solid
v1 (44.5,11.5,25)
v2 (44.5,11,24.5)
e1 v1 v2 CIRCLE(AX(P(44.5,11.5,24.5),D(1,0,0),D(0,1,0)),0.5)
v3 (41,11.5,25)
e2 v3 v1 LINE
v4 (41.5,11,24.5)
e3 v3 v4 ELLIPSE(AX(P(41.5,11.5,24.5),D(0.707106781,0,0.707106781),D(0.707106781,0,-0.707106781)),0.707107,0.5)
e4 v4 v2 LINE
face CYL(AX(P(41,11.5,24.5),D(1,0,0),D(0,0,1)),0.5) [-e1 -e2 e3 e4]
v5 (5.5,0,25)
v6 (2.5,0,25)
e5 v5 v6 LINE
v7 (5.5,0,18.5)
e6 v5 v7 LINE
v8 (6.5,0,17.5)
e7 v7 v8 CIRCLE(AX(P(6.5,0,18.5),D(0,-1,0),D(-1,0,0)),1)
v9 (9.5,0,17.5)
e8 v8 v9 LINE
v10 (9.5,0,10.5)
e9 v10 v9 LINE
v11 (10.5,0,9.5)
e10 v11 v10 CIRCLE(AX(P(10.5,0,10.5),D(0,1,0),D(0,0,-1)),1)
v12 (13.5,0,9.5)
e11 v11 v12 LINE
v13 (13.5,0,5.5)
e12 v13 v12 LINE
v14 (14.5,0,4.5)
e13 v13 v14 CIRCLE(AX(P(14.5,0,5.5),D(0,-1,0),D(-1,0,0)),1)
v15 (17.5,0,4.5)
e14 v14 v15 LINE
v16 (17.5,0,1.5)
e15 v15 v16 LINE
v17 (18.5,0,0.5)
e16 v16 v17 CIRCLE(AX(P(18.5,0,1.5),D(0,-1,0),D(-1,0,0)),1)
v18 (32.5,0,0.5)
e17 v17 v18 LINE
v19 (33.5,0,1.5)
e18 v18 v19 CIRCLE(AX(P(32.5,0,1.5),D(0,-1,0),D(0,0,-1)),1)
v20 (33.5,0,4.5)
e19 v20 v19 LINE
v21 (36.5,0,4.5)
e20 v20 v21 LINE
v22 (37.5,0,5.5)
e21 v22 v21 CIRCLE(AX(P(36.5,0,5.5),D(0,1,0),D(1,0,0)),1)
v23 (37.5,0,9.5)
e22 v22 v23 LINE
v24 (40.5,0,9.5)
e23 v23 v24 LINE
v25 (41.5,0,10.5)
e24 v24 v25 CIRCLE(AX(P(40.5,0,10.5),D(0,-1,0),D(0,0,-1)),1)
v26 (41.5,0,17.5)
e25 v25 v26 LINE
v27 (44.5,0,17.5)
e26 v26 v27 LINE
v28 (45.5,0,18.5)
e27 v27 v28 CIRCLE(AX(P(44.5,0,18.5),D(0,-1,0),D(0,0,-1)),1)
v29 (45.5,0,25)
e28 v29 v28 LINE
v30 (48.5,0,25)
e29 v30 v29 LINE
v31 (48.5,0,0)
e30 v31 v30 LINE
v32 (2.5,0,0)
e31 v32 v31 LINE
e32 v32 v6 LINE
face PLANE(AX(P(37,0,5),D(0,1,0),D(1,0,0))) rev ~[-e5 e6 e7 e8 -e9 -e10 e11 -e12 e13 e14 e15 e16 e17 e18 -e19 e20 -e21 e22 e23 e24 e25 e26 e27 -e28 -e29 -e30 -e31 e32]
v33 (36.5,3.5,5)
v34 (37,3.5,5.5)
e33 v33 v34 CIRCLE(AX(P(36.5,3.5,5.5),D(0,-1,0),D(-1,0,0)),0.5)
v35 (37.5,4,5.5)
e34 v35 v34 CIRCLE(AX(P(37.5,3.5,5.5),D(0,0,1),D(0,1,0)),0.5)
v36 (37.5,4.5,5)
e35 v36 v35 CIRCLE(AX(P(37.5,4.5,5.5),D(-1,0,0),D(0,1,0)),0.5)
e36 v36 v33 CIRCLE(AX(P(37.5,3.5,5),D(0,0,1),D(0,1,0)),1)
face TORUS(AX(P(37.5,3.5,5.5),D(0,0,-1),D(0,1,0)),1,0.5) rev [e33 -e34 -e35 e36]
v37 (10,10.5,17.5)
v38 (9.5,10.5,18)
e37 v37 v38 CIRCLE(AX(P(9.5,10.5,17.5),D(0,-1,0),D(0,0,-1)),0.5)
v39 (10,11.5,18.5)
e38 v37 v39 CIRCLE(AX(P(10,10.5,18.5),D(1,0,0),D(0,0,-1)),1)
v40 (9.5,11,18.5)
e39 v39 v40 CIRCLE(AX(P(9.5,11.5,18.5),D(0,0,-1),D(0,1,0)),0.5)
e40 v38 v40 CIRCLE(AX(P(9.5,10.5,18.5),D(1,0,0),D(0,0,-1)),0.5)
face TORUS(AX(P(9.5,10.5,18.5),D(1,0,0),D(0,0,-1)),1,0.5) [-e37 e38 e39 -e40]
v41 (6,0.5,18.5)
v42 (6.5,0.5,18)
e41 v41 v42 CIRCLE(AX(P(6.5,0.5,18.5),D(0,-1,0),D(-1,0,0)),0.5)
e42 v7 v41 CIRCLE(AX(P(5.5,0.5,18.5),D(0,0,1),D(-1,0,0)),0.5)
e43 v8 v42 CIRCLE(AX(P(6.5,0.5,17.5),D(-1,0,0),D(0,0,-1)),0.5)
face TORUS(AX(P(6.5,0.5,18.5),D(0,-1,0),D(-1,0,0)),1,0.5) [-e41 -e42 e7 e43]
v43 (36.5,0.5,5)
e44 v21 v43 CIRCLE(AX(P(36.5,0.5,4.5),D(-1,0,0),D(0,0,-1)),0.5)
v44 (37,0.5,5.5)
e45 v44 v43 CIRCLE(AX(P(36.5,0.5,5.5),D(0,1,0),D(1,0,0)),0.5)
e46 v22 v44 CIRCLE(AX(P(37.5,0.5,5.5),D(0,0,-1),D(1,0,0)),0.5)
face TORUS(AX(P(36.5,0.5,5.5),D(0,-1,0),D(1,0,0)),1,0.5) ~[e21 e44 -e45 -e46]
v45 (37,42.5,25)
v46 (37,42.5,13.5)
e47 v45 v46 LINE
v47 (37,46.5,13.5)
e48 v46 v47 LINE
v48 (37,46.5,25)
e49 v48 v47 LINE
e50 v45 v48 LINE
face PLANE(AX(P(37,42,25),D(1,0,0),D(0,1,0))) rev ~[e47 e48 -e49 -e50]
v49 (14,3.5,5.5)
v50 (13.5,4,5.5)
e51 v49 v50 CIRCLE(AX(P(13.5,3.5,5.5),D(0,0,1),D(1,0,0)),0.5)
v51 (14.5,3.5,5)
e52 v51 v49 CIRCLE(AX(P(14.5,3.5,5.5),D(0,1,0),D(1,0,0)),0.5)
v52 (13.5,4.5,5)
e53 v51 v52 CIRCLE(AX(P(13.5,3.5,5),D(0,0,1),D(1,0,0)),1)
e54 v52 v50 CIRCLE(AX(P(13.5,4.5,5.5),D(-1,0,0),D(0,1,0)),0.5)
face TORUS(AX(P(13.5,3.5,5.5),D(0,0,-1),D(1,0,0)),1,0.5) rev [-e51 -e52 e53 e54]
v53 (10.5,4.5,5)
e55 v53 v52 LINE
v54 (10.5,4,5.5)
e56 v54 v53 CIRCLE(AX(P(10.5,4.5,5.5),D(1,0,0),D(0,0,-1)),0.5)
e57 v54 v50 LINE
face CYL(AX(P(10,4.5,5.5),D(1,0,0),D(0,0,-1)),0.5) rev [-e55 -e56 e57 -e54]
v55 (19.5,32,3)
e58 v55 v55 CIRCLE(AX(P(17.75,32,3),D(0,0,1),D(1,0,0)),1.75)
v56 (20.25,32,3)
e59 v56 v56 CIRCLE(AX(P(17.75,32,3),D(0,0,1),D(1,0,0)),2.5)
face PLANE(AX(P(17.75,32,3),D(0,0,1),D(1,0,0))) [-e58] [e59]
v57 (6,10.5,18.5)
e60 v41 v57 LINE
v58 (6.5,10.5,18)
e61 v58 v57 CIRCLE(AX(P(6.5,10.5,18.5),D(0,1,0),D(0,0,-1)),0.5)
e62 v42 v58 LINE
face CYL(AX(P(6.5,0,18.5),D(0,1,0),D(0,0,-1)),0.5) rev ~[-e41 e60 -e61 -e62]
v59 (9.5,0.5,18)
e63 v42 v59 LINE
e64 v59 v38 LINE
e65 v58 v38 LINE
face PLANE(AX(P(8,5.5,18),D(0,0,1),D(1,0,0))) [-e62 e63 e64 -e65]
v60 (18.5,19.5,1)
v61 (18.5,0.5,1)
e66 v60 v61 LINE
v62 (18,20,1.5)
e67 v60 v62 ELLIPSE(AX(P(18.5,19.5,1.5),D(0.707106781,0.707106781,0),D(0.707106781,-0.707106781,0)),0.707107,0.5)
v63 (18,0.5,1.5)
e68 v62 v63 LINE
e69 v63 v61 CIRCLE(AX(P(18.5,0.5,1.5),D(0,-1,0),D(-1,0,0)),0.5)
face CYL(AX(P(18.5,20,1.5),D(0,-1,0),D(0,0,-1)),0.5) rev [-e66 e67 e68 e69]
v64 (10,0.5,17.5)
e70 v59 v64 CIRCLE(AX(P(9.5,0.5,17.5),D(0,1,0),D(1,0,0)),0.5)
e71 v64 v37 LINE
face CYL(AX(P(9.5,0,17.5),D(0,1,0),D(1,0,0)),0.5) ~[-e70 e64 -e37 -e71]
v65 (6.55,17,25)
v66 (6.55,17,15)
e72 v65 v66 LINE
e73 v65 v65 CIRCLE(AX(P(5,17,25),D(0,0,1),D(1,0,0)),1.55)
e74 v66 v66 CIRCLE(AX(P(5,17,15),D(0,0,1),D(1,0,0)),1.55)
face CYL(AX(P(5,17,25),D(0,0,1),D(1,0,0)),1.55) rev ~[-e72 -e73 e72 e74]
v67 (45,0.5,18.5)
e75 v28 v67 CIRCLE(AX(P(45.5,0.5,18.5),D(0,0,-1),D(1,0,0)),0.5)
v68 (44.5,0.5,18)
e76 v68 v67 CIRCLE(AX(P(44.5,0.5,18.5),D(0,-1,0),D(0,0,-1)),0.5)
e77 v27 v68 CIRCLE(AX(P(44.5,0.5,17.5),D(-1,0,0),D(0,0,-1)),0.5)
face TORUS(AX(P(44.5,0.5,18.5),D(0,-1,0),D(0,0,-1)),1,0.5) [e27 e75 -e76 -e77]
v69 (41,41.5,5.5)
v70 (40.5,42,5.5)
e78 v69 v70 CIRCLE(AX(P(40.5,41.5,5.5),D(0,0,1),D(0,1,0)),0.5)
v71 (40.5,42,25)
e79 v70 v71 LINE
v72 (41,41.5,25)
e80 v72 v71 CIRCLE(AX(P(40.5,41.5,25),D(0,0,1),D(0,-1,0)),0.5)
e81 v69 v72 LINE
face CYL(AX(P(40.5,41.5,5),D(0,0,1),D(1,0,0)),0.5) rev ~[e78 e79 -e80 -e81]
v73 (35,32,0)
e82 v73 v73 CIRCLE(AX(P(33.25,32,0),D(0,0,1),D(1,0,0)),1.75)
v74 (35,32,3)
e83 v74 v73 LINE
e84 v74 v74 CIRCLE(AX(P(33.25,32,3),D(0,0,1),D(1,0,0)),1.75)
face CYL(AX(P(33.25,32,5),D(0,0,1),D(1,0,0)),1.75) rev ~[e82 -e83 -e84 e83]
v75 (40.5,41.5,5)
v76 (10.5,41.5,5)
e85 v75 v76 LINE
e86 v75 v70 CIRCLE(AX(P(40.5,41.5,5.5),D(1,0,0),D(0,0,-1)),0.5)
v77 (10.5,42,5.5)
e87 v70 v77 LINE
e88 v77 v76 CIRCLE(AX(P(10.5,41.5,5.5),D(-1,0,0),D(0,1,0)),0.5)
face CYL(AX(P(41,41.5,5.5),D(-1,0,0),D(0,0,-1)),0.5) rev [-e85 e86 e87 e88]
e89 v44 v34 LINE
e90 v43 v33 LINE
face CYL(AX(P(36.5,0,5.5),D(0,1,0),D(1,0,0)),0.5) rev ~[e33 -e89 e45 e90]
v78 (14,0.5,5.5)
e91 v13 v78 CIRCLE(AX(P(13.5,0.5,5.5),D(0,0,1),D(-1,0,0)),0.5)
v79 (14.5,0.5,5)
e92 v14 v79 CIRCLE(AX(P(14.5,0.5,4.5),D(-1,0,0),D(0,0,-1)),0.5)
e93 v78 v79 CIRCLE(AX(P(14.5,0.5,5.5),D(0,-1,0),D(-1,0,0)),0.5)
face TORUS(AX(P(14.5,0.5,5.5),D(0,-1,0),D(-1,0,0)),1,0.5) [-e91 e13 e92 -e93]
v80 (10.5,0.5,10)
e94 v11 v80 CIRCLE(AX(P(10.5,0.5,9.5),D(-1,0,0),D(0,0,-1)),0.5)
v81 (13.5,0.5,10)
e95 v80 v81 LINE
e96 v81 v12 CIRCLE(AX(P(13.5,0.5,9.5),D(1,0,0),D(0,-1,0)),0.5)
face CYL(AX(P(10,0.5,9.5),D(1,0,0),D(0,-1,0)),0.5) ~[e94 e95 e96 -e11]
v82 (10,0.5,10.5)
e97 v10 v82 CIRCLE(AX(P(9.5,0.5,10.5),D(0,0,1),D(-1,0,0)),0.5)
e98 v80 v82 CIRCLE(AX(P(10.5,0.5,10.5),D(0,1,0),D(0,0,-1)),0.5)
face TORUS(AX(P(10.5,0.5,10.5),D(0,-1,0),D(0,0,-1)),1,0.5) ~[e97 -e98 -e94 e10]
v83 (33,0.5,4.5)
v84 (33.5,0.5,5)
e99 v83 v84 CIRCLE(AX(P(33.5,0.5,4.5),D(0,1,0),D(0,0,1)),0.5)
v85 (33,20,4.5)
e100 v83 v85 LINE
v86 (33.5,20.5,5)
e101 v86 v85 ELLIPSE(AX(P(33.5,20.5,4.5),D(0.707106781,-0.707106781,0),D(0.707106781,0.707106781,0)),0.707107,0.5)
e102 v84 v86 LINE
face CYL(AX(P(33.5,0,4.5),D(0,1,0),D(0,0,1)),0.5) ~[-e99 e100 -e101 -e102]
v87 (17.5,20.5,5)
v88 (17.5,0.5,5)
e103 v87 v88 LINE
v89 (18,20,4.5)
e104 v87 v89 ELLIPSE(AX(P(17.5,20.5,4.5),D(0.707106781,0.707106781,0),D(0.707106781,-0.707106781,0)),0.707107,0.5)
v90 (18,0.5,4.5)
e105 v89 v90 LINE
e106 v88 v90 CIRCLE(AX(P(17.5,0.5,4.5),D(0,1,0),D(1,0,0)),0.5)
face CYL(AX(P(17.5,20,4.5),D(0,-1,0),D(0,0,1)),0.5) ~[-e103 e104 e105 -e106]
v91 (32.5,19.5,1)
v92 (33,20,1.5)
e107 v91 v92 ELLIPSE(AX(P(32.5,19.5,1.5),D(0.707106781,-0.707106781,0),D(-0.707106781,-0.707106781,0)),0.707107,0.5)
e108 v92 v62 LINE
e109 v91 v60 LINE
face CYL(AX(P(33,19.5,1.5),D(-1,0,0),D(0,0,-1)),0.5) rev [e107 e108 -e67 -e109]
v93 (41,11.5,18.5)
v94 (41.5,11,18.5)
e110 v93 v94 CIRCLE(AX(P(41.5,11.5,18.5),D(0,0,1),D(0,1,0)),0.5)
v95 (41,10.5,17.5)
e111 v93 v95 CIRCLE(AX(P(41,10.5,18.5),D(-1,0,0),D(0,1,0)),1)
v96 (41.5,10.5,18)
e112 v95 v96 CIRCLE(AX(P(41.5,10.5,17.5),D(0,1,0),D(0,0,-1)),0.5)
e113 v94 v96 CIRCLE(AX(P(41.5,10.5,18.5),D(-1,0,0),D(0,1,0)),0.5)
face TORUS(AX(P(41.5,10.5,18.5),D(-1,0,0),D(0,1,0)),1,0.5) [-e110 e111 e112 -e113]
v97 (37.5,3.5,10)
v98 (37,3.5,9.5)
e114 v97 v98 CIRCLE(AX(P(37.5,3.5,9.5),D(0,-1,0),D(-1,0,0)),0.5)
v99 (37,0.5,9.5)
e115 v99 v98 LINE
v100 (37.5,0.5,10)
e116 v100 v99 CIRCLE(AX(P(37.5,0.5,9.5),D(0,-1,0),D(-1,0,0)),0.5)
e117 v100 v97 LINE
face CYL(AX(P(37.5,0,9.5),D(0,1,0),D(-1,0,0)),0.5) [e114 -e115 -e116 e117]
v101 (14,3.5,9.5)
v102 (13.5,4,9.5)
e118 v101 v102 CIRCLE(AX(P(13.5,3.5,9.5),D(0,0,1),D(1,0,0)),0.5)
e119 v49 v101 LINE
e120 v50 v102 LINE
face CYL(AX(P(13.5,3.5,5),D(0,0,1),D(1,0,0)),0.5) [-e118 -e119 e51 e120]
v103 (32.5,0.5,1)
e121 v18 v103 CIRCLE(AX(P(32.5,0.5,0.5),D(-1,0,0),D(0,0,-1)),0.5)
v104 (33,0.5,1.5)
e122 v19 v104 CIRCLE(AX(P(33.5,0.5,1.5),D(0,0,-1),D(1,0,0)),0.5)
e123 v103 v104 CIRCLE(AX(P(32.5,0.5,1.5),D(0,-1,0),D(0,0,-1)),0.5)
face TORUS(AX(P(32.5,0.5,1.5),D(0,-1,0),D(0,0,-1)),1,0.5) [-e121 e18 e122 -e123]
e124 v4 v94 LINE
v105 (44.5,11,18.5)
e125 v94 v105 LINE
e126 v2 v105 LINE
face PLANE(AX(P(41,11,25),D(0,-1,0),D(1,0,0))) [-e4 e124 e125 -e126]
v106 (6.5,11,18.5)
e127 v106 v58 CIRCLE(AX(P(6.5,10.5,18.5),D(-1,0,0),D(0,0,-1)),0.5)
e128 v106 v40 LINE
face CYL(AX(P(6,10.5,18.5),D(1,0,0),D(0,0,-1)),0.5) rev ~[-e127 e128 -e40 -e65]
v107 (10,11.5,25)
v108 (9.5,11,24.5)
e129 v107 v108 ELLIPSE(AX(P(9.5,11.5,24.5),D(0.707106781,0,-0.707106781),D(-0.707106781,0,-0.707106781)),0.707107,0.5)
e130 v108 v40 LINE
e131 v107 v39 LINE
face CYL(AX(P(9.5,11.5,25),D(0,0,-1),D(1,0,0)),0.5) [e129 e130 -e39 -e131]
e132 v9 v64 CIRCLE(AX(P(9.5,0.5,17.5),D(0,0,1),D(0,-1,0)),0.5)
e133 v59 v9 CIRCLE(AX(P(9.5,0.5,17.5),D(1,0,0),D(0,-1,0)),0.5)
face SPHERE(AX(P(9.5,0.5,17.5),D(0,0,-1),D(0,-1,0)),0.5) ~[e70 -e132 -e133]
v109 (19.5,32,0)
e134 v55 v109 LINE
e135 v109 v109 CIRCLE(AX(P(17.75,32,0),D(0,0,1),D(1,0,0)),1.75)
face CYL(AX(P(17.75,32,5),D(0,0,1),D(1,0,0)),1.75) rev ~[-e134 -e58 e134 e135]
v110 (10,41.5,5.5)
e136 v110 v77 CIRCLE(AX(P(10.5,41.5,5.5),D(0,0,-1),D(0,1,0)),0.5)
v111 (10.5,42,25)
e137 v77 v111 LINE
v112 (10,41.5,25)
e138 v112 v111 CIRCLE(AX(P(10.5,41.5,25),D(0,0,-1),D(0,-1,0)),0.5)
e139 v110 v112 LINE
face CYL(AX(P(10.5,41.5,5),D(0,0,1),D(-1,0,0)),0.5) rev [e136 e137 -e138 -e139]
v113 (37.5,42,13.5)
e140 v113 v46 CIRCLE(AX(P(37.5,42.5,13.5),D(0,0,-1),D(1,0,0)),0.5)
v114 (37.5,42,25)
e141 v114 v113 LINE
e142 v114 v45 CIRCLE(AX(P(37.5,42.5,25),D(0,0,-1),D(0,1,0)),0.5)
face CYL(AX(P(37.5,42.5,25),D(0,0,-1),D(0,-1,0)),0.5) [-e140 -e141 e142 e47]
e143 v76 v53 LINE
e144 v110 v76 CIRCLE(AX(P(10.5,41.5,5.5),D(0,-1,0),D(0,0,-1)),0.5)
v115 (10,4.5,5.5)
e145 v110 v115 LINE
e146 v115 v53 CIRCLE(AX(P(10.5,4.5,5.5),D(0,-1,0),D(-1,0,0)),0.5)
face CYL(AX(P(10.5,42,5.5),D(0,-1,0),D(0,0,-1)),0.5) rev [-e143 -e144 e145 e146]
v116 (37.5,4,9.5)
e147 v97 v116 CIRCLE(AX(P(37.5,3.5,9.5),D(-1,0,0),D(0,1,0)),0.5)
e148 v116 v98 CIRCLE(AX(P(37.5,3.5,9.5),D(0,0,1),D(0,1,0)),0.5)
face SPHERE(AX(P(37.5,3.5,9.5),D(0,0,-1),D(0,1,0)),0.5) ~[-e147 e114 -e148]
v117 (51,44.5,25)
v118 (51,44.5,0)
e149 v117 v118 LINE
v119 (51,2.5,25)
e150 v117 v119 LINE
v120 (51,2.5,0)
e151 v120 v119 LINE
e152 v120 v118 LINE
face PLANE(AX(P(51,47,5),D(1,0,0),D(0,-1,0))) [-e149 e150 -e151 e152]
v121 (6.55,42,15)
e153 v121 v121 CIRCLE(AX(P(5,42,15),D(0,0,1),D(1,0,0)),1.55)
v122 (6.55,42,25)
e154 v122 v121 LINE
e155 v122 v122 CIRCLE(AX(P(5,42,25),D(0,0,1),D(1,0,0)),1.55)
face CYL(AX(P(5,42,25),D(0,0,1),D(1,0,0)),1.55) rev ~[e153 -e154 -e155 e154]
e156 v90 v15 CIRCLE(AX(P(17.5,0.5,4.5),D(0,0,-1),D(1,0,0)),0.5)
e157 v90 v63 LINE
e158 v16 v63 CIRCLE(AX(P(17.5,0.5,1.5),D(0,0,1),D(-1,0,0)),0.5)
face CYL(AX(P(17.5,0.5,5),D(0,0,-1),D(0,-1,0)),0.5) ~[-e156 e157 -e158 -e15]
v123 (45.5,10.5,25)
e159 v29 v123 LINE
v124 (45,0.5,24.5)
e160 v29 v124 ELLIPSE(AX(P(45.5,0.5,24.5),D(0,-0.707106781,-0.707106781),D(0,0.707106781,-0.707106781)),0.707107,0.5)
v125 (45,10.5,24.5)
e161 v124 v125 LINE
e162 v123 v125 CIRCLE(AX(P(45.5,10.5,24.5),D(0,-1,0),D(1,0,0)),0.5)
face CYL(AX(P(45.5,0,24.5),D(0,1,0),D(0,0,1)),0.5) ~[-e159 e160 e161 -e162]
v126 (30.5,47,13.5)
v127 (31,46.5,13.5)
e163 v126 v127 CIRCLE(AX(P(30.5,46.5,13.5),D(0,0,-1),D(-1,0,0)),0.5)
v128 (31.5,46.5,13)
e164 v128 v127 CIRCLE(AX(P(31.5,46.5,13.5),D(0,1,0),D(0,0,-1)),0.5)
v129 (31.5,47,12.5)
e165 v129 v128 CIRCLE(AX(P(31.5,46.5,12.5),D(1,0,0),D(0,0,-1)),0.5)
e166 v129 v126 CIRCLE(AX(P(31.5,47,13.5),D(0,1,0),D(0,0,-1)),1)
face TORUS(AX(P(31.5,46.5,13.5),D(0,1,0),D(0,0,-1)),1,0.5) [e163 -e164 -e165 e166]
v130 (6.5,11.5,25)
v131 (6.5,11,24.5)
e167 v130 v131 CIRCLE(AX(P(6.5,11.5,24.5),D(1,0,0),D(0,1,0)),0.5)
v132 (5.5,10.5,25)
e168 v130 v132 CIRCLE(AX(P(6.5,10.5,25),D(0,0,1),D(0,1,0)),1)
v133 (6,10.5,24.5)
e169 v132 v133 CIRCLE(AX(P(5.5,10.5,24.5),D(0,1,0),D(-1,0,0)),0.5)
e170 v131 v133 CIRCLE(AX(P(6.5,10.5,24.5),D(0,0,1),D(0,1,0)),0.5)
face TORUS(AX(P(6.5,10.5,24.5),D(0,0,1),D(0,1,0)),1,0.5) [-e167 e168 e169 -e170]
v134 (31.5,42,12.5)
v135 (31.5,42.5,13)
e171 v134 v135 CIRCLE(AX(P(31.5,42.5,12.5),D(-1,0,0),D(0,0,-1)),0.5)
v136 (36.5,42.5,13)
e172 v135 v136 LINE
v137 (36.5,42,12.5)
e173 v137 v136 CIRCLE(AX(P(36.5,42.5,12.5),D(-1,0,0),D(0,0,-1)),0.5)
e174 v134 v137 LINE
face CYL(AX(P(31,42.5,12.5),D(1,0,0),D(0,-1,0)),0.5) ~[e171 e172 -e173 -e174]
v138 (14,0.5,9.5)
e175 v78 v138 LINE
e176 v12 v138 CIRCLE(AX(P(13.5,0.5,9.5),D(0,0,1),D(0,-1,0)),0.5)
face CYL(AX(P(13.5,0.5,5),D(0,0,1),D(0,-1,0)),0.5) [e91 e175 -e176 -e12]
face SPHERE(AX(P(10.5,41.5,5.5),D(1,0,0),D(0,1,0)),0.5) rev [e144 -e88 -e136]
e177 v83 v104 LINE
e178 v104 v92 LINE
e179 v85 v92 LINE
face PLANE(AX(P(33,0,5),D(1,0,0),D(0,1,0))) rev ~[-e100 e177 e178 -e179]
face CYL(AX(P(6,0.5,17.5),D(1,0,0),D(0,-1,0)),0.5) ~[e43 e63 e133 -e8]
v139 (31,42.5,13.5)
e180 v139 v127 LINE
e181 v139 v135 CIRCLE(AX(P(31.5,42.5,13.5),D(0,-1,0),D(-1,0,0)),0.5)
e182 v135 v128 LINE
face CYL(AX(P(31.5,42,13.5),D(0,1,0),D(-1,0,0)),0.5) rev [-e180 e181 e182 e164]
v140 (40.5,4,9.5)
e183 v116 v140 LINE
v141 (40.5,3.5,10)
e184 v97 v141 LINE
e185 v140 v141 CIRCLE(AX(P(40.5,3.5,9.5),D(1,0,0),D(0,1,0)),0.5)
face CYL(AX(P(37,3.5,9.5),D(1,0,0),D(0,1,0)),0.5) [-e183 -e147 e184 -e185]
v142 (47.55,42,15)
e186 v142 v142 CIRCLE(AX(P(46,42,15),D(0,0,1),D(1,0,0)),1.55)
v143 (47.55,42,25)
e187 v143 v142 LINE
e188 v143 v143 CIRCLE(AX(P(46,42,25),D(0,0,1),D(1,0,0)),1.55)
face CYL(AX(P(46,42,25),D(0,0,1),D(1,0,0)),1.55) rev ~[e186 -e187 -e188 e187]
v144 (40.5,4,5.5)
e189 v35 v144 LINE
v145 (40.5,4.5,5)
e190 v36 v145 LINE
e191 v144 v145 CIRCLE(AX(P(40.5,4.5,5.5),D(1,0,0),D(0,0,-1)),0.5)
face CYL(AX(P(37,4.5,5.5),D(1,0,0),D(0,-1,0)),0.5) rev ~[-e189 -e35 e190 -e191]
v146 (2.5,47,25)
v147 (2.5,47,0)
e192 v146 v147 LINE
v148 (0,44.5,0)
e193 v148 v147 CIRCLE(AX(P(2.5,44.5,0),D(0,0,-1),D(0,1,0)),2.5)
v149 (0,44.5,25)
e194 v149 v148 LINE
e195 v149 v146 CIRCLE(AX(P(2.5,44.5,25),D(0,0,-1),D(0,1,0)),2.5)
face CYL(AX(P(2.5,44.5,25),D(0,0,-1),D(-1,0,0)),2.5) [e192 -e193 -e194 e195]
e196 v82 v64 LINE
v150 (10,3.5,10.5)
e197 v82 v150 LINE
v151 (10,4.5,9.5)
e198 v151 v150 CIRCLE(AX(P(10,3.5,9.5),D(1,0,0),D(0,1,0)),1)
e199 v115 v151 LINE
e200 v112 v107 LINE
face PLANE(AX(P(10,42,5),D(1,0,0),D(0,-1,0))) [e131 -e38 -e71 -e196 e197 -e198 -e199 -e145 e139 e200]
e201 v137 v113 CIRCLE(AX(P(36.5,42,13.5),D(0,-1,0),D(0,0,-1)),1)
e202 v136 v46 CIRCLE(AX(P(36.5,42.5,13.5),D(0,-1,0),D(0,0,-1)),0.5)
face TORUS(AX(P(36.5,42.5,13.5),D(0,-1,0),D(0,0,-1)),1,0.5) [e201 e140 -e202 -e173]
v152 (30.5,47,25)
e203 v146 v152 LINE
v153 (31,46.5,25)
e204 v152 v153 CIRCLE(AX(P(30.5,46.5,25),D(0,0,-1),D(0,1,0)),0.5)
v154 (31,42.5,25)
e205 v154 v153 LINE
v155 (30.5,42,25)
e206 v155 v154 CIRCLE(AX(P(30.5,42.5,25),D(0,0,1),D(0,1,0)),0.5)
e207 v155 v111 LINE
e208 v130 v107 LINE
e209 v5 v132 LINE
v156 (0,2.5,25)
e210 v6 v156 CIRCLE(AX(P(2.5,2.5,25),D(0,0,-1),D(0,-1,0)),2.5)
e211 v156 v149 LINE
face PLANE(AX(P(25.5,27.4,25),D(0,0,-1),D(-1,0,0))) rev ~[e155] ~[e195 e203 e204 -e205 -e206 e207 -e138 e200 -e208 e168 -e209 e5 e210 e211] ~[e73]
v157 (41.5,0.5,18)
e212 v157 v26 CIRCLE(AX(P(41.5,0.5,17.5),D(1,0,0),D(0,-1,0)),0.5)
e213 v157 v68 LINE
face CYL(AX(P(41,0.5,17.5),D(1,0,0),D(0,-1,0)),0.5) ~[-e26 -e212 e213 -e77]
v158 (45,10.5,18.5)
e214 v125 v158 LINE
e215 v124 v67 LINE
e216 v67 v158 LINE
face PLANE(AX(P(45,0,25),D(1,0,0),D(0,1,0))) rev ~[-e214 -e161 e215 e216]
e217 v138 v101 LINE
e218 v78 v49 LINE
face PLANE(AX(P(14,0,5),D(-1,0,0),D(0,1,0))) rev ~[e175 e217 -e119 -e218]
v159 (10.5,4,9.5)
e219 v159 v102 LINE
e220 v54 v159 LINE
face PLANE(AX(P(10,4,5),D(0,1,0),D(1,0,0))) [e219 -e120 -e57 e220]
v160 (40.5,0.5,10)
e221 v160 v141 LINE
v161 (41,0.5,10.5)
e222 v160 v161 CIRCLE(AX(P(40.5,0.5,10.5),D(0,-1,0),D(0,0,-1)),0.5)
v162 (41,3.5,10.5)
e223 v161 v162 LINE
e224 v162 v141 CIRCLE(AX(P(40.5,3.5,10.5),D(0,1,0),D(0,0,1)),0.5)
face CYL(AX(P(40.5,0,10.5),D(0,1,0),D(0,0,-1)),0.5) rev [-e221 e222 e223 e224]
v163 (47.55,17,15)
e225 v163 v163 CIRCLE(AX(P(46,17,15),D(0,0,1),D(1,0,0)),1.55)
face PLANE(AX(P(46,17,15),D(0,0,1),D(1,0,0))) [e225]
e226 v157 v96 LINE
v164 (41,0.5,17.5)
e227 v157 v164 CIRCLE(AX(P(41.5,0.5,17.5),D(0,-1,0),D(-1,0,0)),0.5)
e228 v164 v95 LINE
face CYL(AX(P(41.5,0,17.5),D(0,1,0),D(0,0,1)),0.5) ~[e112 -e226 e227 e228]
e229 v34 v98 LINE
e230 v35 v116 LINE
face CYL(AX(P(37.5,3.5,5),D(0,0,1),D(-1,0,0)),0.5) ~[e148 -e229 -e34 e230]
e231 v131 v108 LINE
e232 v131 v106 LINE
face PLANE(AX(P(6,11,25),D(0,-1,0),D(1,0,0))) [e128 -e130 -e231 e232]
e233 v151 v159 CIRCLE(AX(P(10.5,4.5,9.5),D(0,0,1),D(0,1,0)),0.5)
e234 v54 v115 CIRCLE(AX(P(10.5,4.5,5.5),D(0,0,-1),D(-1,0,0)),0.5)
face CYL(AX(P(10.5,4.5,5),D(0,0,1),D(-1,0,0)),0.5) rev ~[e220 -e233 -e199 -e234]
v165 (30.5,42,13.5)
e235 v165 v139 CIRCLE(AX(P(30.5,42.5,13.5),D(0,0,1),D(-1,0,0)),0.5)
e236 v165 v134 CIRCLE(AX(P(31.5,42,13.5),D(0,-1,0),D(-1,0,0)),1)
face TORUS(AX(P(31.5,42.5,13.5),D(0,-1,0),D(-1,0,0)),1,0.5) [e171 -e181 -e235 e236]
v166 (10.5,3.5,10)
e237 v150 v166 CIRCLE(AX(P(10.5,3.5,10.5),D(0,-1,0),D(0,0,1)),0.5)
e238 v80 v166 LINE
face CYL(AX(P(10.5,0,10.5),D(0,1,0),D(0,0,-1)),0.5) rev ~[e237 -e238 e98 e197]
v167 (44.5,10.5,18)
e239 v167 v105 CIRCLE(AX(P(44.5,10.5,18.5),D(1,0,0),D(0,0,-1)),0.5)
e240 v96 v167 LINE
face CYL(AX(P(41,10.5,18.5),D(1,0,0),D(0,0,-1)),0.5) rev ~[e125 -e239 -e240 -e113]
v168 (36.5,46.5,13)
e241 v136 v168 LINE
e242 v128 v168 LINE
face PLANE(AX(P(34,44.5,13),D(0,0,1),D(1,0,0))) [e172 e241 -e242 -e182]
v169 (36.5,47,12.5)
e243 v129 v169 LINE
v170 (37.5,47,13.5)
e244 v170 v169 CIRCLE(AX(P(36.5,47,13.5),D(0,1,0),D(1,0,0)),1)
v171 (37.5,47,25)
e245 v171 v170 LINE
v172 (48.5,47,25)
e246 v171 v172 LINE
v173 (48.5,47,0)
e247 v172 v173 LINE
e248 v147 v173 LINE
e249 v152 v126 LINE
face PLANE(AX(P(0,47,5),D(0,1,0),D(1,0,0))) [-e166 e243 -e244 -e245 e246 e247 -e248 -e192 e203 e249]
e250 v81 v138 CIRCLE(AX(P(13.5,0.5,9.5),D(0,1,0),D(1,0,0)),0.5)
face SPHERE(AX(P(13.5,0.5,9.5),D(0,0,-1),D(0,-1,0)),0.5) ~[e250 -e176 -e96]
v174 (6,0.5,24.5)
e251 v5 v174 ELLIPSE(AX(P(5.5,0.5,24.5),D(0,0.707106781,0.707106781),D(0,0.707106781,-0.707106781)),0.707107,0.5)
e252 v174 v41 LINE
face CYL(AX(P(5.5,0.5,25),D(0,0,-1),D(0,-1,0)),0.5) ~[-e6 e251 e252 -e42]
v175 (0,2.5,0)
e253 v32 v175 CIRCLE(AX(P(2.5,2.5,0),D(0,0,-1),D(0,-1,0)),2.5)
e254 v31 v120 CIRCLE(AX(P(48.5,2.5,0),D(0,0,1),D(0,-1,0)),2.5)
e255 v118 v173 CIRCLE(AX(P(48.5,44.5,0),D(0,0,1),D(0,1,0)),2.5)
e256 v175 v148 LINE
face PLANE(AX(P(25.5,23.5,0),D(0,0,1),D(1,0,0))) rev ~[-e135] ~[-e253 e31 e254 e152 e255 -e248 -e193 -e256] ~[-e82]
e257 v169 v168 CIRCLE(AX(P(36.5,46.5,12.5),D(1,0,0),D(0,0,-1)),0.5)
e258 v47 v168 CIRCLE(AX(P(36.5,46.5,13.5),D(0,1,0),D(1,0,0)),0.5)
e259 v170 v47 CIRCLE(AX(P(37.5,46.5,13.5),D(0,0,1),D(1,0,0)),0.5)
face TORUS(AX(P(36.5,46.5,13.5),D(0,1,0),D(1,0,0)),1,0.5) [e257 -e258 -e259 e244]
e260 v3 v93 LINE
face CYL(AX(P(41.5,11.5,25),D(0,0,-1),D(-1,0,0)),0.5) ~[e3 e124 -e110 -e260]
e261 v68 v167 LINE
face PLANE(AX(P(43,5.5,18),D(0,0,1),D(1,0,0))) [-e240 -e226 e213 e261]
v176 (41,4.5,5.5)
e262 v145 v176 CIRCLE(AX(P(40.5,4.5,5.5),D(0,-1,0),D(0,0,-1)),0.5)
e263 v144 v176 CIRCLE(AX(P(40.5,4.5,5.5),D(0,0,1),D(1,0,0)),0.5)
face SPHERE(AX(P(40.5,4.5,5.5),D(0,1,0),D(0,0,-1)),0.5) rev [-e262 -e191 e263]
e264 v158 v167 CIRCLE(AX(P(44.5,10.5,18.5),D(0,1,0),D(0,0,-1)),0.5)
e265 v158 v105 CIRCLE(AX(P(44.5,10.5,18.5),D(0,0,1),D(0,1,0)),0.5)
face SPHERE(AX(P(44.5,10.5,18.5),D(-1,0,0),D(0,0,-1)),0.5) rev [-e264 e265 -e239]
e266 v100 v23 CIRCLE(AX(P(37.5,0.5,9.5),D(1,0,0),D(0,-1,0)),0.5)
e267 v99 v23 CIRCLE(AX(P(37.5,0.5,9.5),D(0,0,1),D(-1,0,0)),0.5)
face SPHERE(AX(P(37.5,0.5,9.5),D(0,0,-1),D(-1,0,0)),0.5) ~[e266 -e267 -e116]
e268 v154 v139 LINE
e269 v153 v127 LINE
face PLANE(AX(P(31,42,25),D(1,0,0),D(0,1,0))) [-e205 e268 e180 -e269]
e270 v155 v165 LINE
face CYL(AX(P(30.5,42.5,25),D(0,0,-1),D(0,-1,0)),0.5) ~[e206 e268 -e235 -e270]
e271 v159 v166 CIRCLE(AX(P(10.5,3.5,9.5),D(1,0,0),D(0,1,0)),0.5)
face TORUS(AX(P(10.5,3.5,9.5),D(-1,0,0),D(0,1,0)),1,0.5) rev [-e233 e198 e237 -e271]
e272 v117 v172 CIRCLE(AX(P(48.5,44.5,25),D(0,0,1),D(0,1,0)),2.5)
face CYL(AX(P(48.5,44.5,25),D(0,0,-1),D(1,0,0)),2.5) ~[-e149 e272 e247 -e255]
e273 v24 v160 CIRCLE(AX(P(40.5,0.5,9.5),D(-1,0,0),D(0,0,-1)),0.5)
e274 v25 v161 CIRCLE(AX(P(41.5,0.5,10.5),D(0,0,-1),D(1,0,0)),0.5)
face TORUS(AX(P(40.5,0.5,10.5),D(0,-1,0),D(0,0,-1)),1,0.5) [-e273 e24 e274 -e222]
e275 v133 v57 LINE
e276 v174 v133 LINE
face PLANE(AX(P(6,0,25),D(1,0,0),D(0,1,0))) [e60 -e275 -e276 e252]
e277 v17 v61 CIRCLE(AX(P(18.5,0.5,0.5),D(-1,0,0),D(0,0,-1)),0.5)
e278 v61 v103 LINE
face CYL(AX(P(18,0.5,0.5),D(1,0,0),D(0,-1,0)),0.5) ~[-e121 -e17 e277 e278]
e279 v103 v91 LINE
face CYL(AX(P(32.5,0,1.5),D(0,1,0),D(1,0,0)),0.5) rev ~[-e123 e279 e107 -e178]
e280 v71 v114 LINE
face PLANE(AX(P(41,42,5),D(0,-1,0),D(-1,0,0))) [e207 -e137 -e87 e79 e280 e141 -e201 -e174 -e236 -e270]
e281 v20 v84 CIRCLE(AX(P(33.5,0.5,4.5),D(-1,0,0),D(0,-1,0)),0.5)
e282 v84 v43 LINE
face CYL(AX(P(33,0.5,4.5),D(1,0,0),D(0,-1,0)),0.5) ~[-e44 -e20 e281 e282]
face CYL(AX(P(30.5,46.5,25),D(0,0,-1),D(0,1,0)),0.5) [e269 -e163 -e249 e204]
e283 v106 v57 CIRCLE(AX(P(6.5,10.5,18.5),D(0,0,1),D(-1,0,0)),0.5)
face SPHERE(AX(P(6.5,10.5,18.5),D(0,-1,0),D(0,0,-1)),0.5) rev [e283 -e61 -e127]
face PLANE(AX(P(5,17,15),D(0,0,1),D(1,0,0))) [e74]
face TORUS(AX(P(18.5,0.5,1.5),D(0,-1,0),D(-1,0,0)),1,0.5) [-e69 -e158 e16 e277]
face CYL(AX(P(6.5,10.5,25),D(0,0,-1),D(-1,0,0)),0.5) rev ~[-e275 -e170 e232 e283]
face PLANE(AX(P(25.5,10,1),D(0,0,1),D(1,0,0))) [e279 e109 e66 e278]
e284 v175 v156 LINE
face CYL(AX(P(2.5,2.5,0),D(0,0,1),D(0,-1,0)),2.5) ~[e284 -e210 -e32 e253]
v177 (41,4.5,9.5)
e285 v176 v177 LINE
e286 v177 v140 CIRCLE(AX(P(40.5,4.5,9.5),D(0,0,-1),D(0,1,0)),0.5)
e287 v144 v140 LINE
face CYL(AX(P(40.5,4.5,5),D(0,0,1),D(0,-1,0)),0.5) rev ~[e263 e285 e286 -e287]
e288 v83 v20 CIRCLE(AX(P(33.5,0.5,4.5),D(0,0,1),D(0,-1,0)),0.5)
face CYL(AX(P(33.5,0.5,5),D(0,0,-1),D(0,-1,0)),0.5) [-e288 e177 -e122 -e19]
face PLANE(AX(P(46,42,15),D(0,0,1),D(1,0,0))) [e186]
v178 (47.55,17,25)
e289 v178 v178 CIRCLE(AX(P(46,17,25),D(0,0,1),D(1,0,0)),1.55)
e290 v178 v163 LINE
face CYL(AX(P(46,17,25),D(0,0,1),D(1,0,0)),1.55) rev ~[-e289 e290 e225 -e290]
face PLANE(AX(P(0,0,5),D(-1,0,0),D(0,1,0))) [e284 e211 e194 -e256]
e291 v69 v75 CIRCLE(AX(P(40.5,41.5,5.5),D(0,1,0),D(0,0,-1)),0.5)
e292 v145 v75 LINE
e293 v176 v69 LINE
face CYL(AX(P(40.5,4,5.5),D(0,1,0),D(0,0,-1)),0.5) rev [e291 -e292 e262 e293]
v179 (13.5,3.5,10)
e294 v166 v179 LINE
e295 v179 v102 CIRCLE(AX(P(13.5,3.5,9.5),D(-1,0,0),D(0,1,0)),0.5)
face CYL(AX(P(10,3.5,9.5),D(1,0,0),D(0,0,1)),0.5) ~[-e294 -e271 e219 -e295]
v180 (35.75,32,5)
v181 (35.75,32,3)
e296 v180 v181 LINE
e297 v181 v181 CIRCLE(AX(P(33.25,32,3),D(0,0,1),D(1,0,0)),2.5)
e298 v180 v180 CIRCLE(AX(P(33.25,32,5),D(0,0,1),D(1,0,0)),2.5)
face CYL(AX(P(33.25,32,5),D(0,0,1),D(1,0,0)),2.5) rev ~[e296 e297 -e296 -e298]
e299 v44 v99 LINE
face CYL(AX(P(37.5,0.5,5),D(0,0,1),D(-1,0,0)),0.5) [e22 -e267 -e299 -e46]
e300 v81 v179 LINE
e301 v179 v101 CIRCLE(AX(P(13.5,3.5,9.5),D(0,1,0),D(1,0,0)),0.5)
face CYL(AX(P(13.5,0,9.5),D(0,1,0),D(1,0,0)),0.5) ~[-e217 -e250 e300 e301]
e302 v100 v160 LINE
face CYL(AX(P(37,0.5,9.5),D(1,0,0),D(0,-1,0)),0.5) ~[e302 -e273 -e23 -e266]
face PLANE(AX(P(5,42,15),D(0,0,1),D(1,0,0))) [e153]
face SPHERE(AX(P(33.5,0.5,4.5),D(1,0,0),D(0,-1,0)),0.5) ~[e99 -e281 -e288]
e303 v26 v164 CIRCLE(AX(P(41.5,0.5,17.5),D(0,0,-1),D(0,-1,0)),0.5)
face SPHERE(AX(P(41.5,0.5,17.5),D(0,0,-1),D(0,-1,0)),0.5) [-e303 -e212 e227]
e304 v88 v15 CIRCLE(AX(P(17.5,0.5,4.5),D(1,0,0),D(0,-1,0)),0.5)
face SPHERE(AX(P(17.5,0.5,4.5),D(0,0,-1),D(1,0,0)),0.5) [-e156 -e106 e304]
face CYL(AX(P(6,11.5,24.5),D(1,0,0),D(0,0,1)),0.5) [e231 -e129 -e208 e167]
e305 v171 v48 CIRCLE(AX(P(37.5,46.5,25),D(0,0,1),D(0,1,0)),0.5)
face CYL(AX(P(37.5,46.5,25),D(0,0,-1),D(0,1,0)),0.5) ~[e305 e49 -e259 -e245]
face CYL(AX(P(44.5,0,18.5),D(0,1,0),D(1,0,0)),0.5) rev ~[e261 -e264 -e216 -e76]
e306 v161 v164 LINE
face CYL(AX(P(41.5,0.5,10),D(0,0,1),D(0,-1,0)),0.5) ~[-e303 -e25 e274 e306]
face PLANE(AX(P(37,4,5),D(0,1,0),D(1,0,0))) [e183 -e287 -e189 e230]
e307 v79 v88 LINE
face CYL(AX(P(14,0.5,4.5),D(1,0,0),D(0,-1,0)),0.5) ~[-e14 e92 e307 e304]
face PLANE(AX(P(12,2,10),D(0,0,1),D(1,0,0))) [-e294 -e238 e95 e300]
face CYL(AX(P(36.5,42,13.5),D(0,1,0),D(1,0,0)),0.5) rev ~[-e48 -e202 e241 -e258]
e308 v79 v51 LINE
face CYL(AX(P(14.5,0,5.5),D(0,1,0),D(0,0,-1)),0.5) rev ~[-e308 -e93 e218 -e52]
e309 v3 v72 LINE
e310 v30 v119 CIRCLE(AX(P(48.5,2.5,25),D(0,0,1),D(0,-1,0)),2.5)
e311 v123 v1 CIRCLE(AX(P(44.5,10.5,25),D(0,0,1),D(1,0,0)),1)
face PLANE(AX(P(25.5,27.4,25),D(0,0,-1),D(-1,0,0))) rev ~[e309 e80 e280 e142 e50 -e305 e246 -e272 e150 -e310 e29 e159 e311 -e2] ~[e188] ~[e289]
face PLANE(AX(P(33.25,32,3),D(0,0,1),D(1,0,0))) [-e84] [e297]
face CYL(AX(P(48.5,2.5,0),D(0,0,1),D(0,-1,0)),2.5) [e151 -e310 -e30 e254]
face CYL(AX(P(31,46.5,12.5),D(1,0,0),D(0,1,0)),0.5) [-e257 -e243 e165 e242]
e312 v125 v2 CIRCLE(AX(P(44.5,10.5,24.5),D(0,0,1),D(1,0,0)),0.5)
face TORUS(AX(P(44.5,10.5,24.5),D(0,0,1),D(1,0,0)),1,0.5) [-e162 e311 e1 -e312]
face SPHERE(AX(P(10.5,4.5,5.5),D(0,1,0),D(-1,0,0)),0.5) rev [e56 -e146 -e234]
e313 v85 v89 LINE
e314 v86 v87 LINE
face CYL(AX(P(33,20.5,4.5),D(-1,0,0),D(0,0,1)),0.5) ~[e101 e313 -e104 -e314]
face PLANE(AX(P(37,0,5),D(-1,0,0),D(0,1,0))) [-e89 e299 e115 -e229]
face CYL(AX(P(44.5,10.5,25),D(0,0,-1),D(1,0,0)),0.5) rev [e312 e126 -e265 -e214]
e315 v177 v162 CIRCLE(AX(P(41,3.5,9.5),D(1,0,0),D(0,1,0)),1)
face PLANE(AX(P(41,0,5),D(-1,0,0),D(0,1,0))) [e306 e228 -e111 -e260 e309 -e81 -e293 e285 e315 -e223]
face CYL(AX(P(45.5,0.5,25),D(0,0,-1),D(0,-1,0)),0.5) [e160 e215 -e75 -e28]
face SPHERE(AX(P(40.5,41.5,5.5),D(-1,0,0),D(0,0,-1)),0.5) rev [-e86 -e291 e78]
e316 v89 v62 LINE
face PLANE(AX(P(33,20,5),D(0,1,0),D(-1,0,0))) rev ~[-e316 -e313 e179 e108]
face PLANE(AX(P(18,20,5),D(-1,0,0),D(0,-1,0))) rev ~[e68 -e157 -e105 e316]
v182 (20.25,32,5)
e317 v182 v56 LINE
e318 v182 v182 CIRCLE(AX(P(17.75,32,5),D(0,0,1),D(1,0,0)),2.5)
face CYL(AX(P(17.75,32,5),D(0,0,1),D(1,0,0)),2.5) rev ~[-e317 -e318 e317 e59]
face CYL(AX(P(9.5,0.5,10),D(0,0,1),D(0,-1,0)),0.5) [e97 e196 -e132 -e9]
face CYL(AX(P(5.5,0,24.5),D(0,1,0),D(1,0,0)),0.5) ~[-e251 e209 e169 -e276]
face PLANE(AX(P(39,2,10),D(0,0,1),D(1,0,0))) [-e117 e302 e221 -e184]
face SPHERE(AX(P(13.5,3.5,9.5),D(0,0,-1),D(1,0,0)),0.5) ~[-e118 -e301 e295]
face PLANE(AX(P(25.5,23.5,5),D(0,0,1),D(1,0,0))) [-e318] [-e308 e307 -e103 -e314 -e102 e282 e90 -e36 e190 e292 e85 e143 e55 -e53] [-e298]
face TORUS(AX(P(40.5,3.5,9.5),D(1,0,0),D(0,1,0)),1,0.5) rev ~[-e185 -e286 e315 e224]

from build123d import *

# Parameters (mm, degrees)
SKETCH1_W           = 51
SKETCH1_H           = 47
BOSS_EXTRUDE1_DEPTH = 5
BOSS_EXTRUDE2_DEPTH = 20
SKETCH4_W           = 4
SKETCH4_H           = 4
BOSS_EXTRUDE3_DEPTH = 5
SKETCH5_W           = 4
SKETCH5_H           = 11
CUT_EXTRUDE1_DEPTH  = 7
SKETCH7_W           = 6
SKETCH7_H           = 5
CUT_EXTRUDE2_DEPTH  = 12
CUT_EXTRUDE3_DEPTH  = 4
SKETCH9_R           = 1.55
CUT_EXTRUDE4_DEPTH  = 10
SKETCH10_R          = 1.75
CUT_EXTRUDE5_DEPTH  = 73.18032973
SKETCH11_R          = 2.5
CUT_EXTRUDE6_DEPTH  = 2
FILLET1_R           = 0.5
FILLET2_R           = 2.5


with BuildPart() as part:
    # Sketch1 → Boss-Extrude1 (new body)
    with BuildSketch(Plane.XY):
        with Locations((25.5, 23.5)):
            Rectangle(SKETCH1_W, SKETCH1_H)
    extrude(amount=BOSS_EXTRUDE1_DEPTH)

    # Sketch2 → Boss-Extrude2 (add)
    with BuildSketch(Plane.XY.offset(5)):
        Polygon((0, 0), (0, 47), (51, 47), (51, 0), (41, 0), (41, 42), (10, 42), (10, 0), align=None)
    extrude(amount=BOSS_EXTRUDE2_DEPTH)

    # Sketch4 → Boss-Extrude3 (add)
    with BuildSketch(Plane.XY.offset(5)):
        with Locations((39, 2)):
            Rectangle(SKETCH4_W, SKETCH4_H)
        with Locations((12, 2)):
            Rectangle(SKETCH4_W, SKETCH4_H)
    extrude(amount=BOSS_EXTRUDE3_DEPTH)

    # Sketch5 → Cut-Extrude1 (cut)
    with BuildSketch(Plane.XY.offset(25)):
        with Locations((43, 5.5)):
            Rectangle(SKETCH5_W, SKETCH5_H)
        with Locations((8, 5.5)):
            Rectangle(SKETCH5_W, SKETCH5_H)
    extrude(amount=-CUT_EXTRUDE1_DEPTH, mode=Mode.SUBTRACT)

    # Sketch7 → Cut-Extrude2 (cut)
    with BuildSketch(Plane.XY.offset(25)):
        with Locations((34, 44.5)):
            Rectangle(SKETCH7_W, SKETCH7_H)
    extrude(amount=-CUT_EXTRUDE2_DEPTH, mode=Mode.SUBTRACT)

    # Sketch8 → Cut-Extrude3 (cut)
    with BuildSketch(Plane.XY.offset(5)):
        Polygon((25.5, 0), (33, 0), (33, 20), (18, 20), (18, 0), align=None)
    extrude(amount=-CUT_EXTRUDE3_DEPTH, mode=Mode.SUBTRACT)

    # Sketch9 → Cut-Extrude4 (cut)
    with BuildSketch(Plane.XY.offset(25)):
        with Locations((5, 17)):
            Circle(SKETCH9_R)
        with Locations((5, 42)):
            Circle(SKETCH9_R)
        with Locations((46, 42)):
            Circle(SKETCH9_R)
        with Locations((46, 17)):
            Circle(SKETCH9_R)
    extrude(amount=-CUT_EXTRUDE4_DEPTH, mode=Mode.SUBTRACT)

    # Sketch10 → Cut-Extrude5 (cut, through all)
    with BuildSketch(Plane.XY.offset(5)):
        with Locations((17.75, 32)):
            Circle(SKETCH10_R)
        with Locations((33.25, 32)):
            Circle(SKETCH10_R)
    extrude(amount=-CUT_EXTRUDE5_DEPTH, mode=Mode.SUBTRACT)

    # Sketch11 → Cut-Extrude6 (cut)
    with BuildSketch(Plane.XY.offset(5)):
        with Locations((17.75, 32)):
            Circle(SKETCH11_R)
        with Locations((33.25, 32)):
            Circle(SKETCH11_R)
    extrude(amount=-CUT_EXTRUDE6_DEPTH, mode=Mode.SUBTRACT)

    # Fillet1
    fillet1_edges = [part.edges().sort_by_distance(p)[0] for p in [
        (34, 47, 13),
        (31, 47, 19),
        (37, 44.5, 13),
        (37, 47, 19),
        (34, 42, 13),
        (37, 42, 19),
        (31, 44.5, 13),
        (31, 42, 19),
        (35, 0, 5),
        (18, 10, 1),
        (18, 0, 3),
        (25.5, 20, 1),
        (33, 10, 1),
        (25.5, 0, 1),
        (33, 0, 3),
        (18, 10, 5),
        (33, 10, 5),
        (25.5, 20, 5),
        (25.5, 42, 5),
        (10, 42, 15),
        (41, 23, 5),
        (41, 42, 15),
        (39, 4, 5),
        (41, 4, 7.5),
        (37, 2, 5),
        (37, 4, 7.5),
        (37, 0, 7.5),
        (41, 2, 10),
        (39, 4, 10),
        (37, 2, 10),
        (39, 0, 10),
        (10, 23, 5),
        (16, 0, 5),
        (10, 4, 7.5),
        (14, 2, 5),
        (14, 0, 7.5),
        (12, 4, 5),
        (14, 4, 7.5),
        (10, 2, 10),
        (12, 0, 10),
        (14, 2, 10),
        (12, 4, 10),
        (10, 0, 14),
        (41, 0, 14),
        (43, 0, 18),
        (45, 0, 21.5),
        (41, 5.5, 18),
        (43, 11, 18),
        (41, 11, 21.5),
        (45, 5.5, 18),
        (45, 11, 21.5),
        (45, 5.5, 25),
        (43, 11, 25),
        (8, 0, 18),
        (6, 5.5, 18),
        (6, 0, 21.5),
        (8, 11, 18),
        (6, 11, 21.5),
        (10, 5.5, 18),
        (10, 11, 21.5),
        (8, 11, 25),
        (6, 5.5, 25),
    ]]
    fillet(fillet1_edges, radius=FILLET1_R)

    # Fillet2
    fillet2_edges = [part.edges().sort_by_distance(p)[0] for p in [
        (0, 47, 12.5),
        (51, 47, 12.5),
        (51, 0, 12.5),
        (0, 0, 12.5),
    ]]
    fillet(fillet2_edges, radius=FILLET2_R)


solid = part.part
